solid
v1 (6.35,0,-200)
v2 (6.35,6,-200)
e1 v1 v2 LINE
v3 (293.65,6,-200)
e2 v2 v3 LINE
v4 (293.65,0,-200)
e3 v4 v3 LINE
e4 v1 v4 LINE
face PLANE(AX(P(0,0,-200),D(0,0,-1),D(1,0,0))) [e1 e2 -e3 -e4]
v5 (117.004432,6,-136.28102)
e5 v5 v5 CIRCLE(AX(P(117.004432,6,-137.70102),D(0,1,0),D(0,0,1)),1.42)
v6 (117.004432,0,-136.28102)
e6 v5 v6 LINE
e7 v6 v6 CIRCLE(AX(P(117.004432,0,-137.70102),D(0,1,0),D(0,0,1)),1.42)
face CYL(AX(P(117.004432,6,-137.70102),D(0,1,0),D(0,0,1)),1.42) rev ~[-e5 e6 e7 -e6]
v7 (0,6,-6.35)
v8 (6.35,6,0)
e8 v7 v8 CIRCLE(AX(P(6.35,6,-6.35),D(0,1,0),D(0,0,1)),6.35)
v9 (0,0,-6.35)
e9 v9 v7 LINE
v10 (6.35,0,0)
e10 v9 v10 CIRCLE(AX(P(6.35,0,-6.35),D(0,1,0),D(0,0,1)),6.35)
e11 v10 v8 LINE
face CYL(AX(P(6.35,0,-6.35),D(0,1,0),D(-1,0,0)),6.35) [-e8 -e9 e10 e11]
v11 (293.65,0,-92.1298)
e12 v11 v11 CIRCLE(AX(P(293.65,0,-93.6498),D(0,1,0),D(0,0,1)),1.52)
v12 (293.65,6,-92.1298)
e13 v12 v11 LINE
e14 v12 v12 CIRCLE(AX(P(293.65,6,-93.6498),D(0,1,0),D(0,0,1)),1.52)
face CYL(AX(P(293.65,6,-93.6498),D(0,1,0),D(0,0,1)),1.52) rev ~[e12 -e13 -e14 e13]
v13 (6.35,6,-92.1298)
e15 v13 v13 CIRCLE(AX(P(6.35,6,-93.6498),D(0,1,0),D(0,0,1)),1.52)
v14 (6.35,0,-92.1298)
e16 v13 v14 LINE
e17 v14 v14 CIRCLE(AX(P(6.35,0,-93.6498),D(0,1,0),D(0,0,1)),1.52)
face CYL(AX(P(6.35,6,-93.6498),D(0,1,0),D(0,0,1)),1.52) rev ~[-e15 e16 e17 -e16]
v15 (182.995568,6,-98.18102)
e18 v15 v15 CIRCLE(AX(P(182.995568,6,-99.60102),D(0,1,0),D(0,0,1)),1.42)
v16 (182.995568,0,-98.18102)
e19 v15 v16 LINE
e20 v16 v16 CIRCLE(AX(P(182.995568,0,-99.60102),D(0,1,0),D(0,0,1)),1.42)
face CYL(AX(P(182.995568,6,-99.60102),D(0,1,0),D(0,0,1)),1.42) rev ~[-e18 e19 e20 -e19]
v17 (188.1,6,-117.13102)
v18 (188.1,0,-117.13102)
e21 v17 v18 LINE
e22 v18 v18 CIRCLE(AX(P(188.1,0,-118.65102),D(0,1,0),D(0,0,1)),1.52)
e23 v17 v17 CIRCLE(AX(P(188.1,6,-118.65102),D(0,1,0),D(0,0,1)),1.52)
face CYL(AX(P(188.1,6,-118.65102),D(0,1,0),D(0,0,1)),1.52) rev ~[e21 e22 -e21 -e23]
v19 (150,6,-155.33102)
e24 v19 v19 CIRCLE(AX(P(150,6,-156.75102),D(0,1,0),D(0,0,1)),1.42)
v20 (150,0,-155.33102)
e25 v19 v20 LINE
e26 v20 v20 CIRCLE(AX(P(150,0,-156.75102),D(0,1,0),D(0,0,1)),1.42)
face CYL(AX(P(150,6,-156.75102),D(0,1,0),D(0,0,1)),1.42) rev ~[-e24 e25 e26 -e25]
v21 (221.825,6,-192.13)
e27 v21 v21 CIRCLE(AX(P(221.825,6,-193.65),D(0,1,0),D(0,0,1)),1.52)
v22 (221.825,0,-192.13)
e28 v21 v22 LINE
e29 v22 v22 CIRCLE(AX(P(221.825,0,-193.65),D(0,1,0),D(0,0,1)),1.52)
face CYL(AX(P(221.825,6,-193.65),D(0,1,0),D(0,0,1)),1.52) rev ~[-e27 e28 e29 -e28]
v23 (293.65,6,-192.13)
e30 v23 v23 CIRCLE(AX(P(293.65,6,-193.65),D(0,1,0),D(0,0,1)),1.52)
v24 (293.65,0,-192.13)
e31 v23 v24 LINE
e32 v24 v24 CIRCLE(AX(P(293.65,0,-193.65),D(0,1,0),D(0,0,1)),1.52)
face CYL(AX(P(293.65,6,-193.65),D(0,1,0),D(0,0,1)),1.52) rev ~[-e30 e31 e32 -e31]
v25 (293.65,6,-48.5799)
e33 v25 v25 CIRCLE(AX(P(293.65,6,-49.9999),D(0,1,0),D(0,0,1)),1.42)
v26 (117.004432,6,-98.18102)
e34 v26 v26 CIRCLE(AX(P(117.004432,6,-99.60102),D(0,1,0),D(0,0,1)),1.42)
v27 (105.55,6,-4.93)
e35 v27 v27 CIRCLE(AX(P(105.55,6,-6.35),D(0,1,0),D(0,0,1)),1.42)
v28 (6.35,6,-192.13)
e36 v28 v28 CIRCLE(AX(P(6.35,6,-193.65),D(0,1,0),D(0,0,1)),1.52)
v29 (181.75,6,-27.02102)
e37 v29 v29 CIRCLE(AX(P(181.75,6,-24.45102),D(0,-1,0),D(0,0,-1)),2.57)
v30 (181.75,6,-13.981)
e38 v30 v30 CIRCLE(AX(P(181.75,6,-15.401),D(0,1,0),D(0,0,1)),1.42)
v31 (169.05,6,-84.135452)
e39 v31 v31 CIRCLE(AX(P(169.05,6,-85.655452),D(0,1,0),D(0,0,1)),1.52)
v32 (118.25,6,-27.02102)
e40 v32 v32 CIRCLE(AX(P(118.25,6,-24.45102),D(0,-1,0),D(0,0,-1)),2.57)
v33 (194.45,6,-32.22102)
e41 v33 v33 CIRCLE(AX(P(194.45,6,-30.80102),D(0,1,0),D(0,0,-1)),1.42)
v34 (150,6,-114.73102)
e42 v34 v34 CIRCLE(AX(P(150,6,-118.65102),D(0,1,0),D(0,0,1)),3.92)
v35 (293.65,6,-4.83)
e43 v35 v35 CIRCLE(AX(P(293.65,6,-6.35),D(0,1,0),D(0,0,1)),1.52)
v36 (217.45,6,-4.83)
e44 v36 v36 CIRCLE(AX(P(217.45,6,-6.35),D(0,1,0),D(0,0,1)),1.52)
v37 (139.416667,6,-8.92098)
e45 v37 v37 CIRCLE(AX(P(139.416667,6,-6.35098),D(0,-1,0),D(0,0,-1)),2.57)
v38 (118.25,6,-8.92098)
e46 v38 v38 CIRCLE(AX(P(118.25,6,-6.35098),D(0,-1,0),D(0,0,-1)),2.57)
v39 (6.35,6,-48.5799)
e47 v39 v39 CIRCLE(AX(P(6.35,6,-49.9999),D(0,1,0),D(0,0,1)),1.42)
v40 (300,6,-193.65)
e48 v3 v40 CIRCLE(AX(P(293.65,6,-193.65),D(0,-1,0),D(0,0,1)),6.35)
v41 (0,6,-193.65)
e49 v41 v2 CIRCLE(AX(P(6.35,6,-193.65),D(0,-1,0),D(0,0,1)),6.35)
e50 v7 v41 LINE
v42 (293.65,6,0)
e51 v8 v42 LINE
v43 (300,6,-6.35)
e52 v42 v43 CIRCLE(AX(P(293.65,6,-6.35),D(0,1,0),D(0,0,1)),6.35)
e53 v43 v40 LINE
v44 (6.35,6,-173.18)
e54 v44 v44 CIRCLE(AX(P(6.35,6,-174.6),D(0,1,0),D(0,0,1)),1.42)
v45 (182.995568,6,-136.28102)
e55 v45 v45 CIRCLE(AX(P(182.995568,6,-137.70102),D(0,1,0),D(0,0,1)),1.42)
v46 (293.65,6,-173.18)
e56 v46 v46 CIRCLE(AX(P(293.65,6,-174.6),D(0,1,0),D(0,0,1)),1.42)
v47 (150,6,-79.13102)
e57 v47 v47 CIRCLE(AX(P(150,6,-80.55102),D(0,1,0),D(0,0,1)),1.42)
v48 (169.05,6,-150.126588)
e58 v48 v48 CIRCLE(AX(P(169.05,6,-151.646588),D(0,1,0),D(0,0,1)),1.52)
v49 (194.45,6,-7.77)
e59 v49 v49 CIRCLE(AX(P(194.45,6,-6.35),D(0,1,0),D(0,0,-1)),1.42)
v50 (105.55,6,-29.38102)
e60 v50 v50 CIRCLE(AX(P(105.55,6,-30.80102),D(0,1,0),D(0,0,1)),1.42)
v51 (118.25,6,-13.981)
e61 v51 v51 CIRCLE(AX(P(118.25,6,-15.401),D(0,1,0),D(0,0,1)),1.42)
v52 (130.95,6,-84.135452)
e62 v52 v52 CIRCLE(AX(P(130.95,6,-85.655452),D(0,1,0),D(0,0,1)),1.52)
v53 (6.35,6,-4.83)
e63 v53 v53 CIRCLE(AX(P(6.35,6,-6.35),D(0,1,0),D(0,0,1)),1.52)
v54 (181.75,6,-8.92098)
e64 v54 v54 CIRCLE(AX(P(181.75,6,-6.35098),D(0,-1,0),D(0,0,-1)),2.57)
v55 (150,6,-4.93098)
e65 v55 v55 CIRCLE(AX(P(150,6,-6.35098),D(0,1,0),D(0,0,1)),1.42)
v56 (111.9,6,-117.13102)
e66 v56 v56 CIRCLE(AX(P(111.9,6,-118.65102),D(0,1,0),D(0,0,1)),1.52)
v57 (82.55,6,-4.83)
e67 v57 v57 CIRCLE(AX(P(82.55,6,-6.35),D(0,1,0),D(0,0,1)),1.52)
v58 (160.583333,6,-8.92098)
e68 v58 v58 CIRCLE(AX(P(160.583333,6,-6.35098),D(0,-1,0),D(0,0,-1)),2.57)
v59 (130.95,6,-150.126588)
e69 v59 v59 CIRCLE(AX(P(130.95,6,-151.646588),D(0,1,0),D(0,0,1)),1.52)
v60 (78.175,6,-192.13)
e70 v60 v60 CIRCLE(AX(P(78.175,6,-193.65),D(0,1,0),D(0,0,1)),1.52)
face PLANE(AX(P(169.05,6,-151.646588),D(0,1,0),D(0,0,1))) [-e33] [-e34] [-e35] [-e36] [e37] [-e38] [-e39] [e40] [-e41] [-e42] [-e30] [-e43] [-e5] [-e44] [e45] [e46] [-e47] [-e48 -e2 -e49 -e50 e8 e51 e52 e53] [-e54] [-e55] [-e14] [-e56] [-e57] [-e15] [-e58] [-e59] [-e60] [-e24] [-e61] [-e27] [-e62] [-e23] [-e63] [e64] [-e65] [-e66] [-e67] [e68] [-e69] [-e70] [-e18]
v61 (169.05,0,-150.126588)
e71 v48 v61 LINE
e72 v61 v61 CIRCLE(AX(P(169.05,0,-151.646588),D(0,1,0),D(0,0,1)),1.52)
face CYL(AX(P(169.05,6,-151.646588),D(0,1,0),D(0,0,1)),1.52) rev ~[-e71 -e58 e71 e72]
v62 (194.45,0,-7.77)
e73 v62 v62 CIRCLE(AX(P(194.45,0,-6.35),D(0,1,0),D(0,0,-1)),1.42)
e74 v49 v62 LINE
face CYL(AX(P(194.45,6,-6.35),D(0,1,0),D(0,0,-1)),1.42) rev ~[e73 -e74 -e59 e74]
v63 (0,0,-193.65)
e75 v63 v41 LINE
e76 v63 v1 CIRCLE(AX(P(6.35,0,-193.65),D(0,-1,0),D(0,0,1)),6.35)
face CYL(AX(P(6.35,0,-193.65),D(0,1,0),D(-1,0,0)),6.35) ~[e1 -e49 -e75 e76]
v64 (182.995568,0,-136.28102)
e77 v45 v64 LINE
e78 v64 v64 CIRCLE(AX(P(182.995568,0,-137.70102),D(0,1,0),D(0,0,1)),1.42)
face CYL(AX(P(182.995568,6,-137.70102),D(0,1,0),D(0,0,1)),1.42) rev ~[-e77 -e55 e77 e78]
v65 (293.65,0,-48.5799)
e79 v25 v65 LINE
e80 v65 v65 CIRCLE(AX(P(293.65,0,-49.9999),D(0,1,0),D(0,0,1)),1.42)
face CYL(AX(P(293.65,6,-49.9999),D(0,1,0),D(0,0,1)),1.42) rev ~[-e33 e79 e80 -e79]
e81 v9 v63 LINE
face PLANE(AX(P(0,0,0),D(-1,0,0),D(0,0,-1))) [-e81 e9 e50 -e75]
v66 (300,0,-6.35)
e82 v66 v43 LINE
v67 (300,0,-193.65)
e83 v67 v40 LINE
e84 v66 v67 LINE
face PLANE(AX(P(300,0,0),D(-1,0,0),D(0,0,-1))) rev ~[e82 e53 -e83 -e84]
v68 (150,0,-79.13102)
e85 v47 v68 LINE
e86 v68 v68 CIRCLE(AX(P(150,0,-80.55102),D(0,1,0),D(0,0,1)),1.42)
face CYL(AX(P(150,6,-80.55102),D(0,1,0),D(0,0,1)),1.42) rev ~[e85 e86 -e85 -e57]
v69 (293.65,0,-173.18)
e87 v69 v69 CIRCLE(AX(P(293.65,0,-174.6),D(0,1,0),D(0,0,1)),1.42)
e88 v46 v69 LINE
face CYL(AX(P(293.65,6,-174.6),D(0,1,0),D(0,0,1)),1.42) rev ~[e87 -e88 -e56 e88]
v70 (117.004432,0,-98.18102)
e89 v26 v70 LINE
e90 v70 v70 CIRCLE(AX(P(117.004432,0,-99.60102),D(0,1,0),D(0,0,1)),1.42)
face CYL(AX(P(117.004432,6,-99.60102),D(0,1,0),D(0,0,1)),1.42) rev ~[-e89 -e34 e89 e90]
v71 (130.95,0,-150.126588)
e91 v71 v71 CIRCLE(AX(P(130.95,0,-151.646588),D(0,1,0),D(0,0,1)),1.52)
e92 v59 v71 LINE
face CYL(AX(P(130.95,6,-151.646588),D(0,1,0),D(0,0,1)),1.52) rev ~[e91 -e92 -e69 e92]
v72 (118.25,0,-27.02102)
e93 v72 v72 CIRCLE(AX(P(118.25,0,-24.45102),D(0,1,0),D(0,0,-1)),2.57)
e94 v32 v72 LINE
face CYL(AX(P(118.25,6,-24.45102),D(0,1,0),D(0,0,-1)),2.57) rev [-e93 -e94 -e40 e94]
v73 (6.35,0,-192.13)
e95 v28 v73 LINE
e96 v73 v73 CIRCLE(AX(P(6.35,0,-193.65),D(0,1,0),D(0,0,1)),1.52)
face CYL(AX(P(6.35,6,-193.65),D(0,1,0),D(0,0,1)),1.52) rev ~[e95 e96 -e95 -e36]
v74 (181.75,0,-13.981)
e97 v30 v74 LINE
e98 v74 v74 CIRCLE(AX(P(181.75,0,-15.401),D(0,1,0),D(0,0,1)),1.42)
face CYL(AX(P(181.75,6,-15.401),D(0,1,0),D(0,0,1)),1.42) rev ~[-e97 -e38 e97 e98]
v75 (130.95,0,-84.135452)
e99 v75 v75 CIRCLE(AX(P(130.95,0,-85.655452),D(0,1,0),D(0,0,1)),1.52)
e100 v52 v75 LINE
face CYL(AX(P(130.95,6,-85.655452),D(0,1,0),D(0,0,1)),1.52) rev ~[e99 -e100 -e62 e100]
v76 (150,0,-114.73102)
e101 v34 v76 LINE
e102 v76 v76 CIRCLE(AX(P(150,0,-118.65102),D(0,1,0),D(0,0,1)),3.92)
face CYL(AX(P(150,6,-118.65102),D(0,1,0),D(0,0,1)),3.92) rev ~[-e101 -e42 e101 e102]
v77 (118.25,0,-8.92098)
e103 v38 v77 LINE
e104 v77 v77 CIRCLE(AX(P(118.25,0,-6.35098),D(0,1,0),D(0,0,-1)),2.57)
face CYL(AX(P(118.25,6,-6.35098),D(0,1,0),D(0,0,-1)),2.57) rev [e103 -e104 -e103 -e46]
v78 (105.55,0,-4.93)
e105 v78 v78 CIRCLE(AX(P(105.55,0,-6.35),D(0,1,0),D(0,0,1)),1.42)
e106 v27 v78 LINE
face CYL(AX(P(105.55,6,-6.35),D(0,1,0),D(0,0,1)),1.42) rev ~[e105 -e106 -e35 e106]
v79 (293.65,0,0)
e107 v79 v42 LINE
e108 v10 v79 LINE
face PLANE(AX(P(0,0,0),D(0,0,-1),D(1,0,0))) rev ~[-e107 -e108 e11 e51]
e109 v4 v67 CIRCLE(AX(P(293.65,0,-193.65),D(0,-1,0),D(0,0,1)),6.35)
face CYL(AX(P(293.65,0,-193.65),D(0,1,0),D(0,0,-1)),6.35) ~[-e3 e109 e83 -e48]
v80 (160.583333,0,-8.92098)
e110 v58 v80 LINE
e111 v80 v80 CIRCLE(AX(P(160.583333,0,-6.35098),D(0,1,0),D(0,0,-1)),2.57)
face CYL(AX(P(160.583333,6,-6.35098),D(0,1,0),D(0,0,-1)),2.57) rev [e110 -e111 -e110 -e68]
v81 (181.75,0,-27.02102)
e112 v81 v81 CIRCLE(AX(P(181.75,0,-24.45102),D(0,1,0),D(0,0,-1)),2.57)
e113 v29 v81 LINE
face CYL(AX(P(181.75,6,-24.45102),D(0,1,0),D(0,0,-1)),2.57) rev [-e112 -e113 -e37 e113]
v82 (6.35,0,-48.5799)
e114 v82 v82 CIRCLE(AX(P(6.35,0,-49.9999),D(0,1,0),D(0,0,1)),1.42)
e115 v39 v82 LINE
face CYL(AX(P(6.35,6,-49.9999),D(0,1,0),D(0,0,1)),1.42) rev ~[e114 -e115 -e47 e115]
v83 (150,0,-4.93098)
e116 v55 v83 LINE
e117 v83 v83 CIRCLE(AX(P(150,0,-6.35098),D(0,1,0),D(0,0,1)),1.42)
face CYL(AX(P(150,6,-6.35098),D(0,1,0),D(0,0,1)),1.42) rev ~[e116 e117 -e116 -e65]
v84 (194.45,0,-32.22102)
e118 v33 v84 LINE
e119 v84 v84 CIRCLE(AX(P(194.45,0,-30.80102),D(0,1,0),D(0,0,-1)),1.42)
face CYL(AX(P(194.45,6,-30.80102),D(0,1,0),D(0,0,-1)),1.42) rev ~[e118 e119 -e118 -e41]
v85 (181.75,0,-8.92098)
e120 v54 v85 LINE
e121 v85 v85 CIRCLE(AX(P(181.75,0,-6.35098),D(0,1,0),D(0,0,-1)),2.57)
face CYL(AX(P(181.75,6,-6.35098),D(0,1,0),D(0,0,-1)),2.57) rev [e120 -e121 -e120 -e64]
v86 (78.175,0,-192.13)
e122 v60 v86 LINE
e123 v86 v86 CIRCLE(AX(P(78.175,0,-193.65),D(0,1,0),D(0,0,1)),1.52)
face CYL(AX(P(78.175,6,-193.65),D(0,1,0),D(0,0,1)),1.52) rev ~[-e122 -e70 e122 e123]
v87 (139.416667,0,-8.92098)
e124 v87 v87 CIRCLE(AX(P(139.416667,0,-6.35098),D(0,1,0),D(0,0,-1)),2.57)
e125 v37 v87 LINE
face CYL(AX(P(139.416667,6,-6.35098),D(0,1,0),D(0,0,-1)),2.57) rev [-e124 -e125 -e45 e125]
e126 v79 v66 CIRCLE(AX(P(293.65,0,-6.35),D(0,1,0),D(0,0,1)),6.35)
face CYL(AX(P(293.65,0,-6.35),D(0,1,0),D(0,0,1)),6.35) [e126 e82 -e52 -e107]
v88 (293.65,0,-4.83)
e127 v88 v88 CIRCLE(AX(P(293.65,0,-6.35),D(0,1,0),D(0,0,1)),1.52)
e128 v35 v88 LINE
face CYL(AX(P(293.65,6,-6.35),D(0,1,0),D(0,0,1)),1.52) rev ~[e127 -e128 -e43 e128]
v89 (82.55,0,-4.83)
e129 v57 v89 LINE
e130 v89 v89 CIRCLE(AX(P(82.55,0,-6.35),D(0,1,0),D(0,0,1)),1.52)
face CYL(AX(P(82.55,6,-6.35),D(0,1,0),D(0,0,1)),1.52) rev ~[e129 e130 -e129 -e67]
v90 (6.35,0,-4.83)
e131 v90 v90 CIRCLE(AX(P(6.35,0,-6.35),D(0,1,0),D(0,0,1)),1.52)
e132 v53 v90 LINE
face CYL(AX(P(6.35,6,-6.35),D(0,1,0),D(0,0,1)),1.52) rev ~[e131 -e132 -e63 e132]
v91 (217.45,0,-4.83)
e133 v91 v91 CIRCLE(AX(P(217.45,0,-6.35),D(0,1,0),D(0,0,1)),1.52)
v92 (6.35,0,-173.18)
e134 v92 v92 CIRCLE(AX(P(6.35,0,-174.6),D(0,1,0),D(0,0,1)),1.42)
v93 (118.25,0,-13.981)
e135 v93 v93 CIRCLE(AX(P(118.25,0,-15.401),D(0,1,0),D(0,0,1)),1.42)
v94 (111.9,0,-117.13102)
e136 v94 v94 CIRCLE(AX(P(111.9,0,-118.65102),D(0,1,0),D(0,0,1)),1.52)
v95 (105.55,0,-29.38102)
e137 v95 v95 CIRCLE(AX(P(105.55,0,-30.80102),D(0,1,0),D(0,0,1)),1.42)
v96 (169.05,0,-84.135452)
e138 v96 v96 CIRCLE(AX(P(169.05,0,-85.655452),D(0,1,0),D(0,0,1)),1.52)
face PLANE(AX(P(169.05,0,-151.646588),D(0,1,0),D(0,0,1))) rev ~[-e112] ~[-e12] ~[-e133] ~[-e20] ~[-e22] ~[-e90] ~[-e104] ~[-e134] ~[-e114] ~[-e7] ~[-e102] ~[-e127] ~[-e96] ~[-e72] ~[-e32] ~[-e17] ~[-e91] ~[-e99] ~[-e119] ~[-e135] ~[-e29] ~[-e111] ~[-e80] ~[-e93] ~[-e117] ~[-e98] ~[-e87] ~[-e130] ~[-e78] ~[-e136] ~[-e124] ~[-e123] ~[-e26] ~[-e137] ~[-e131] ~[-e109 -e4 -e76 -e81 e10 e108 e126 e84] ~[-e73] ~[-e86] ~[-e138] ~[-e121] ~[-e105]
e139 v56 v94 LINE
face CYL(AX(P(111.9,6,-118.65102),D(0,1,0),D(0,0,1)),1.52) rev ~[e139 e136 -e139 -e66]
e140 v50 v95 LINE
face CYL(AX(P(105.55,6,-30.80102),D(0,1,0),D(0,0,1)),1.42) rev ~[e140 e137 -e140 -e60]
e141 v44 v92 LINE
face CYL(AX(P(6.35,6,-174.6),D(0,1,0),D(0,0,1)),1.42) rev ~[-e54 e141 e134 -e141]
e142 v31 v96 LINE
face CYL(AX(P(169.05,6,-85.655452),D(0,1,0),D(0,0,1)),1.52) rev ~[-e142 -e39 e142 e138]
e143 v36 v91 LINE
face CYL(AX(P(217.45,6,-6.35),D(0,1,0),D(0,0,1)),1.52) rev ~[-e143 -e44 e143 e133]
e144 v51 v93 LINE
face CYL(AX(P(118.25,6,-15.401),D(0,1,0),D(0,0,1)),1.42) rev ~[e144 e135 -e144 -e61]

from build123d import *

# Parameters (mm, degrees)
SKETCH1_W           = 300
SKETCH1_H           = 200
BOSS_EXTRUDE1_DEPTH = 6
SKETCH6_R           = 4
CUT_EXTRUDE2_DEPTH  = 361.605047108
FILLET1_R           = 6.35
SKETCH2_R           = 1.5
CUT_EXTRUDE1_DEPTH  = 361.605047108
SKETCH13_R          = 1.6
M3_THROUGH2_DEPTH   = 364.853871767
SKETCH16_R          = 2.65
M5_THROUGH_DEPTH    = 358.420816406
SKETCH9_R           = 1.5
CUT_EXTRUDE3_DEPTH  = 361.605047108
SKETCH10_R          = 1.5
CUT_EXTRUDE5_DEPTH  = 361.605047108
SKETCH17_R          = 1.6
M3_THROUGH_DEPTH    = 361.605047108
MOVE_FACE2_BY       = 0.08
MOVE_FACE2_2_BY     = 0.08
MOVE_FACE2_3_BY     = 0.08
MOVE_FACE2_4_BY     = 0.08
MOVE_FACE2_5_BY     = 0.08
MOVE_FACE2_6_BY     = 0.08
MOVE_FACE2_7_BY     = 0.08
MOVE_FACE2_8_BY     = 0.08
MOVE_FACE2_9_BY     = 0.08
MOVE_FACE2_10_BY    = 0.08
MOVE_FACE2_11_BY    = 0.08
MOVE_FACE2_12_BY    = 0.08
MOVE_FACE2_13_BY    = 0.08
MOVE_FACE2_14_BY    = 0.08
MOVE_FACE2_15_BY    = 0.08
MOVE_FACE2_16_BY    = 0.08
MOVE_FACE2_17_BY    = 0.08
MOVE_FACE2_18_BY    = 0.08
MOVE_FACE2_19_BY    = 0.08
MOVE_FACE2_20_BY    = 0.08
MOVE_FACE2_21_BY    = 0.08
MOVE_FACE2_22_BY    = 0.08
MOVE_FACE2_23_BY    = 0.08
MOVE_FACE2_24_BY    = 0.08
MOVE_FACE2_25_BY    = 0.08
MOVE_FACE2_26_BY    = 0.08
MOVE_FACE2_27_BY    = 0.08
MOVE_FACE2_28_BY    = 0.08
MOVE_FACE2_29_BY    = 0.08
MOVE_FACE2_30_BY    = 0.08
MOVE_FACE2_31_BY    = 0.08
MOVE_FACE2_32_BY    = 0.08
MOVE_FACE2_33_BY    = 0.08
MOVE_FACE2_34_BY    = 0.08
MOVE_FACE2_35_BY    = 0.08
MOVE_FACE2_36_BY    = 0.08
MOVE_FACE2_37_BY    = 0.08
MOVE_FACE2_38_BY    = 0.08
MOVE_FACE2_39_BY    = 0.08
MOVE_FACE2_40_BY    = 0.08


with BuildPart() as part:
    # Sketch1 → Boss-Extrude1 (new body)
    with BuildSketch(Plane(origin=(0, 0, 0), x_dir=(1, 0, 0), z_dir=(0, 1, 0))):
        with Locations((150, 100)):
            Rectangle(SKETCH1_W, SKETCH1_H)
    extrude(amount=BOSS_EXTRUDE1_DEPTH)

    # Sketch6 → Cut-Extrude2 (cut, through all)
    with BuildSketch(Plane(origin=(0, 6, 0), x_dir=(1, 0, 0), z_dir=(0, 1, 0))):
        with Locations(Location((150, 118.65102, 0), (0, 0, 270))):
            Circle(SKETCH6_R)
    extrude(amount=-CUT_EXTRUDE2_DEPTH, mode=Mode.SUBTRACT)

    # Fillet1
    fillet1_edges = [part.edges().sort_by_distance(p)[0] for p in [
        (0, 3, -200),
        (300, 3, -200),
        (300, 3, 0),
        (0, 3, 0),
    ]]
    fillet(fillet1_edges, radius=FILLET1_R)

    # Sketch2 → Cut-Extrude1 (cut, through all)
    with BuildSketch(Plane(origin=(0, 6, 0), x_dir=(1, 0, 0), z_dir=(0, 1, 0))):
        with Locations(Location((6.35, 174.6, 0), (0, 0, 270))):
            Circle(SKETCH2_R)
        with Locations(Location((6.35, 49.9999, 0), (0, 0, 270))):
            Circle(SKETCH2_R)
        with Locations(Location((293.65, 49.9999, 0), (0, 0, 270))):
            Circle(SKETCH2_R)
        with Locations(Location((293.65, 174.6, 0), (0, 0, 270))):
            Circle(SKETCH2_R)
    extrude(amount=-CUT_EXTRUDE1_DEPTH, mode=Mode.SUBTRACT)

    # Sketch13 → M3-through2 (cut, through all)
    with BuildSketch(Plane(origin=(0, 6, 5.8), x_dir=(1, 0, 0), z_dir=(0, 1, 0))):
        with Locations(Location((6.35, 199.45, 0), (0, 0, 270))):
            Circle(SKETCH13_R)
        with Locations(Location((78.175, 199.45, 0), (0, 0, 270))):
            Circle(SKETCH13_R)
        with Locations(Location((221.825, 199.45, 0), (0, 0, 270))):
            Circle(SKETCH13_R)
        with Locations(Location((293.65, 199.45, 0), (0, 0, 270))):
            Circle(SKETCH13_R)
        with Locations(Location((293.65, 99.4498, 0), (0, 0, 270))):
            Circle(SKETCH13_R)
        with Locations(Location((293.65, 12.15, 0), (0, 0, 270))):
            Circle(SKETCH13_R)
        with Locations(Location((217.45, 12.15, 0), (0, 0, 270))):
            Circle(SKETCH13_R)
        with Locations(Location((82.55, 12.15, 0), (0, 0, 270))):
            Circle(SKETCH13_R)
        with Locations(Location((6.35, 12.15, 0), (0, 0, 270))):
            Circle(SKETCH13_R)
        with Locations(Location((6.35, 99.4498, 0), (0, 0, 270))):
            Circle(SKETCH13_R)
    extrude(amount=-M3_THROUGH2_DEPTH, mode=Mode.SUBTRACT)

    # Sketch16 → M5_through (cut, through all)
    with BuildSketch(Plane(origin=(0, 6, -5.8), x_dir=(1, 0, 0), z_dir=(0, -1, 0))):
        with Locations(Location((118.25, -18.65102, 0), (0, 0, 270))):
            Circle(SKETCH16_R)
        with Locations(Location((118.25, -0.55098, 0), (0, 0, 270))):
            Circle(SKETCH16_R)
        with Locations(Location((139.416666667, -0.55098, 0), (0, 0, 270))):
            Circle(SKETCH16_R)
        with Locations(Location((160.583333333, -0.55098, 0), (0, 0, 270))):
            Circle(SKETCH16_R)
        with Locations(Location((181.75, -0.55098, 0), (0, 0, 270))):
            Circle(SKETCH16_R)
        with Locations(Location((181.75, -18.65102, 0), (0, 0, 270))):
            Circle(SKETCH16_R)
    extrude(amount=M5_THROUGH_DEPTH, mode=Mode.SUBTRACT)

    # Sketch9 → Cut-Extrude3 (cut, through all)
    with BuildSketch(Plane(origin=(0, 6, 0), x_dir=(-1, 0, 0), z_dir=(0, 1, 0))):
        with Locations(Location((-118.25, -15.401, 0), (0, 0, 90))):
            Circle(SKETCH9_R)
        with Locations(Location((-150, -6.35098, 0), (0, 0, 90))):
            Circle(SKETCH9_R)
        with Locations(Location((-181.75, -15.401, 0), (0, 0, 90))):
            Circle(SKETCH9_R)
    extrude(amount=-CUT_EXTRUDE3_DEPTH, mode=Mode.SUBTRACT)

    # Sketch10 → Cut-Extrude5 (cut, through all)
    with BuildSketch(Plane(origin=(0, 6, 0), x_dir=(1, 0, 0), z_dir=(0, 1, 0))):
        with Locations(Location((150, 156.75102, 0), (0, 0, 270))):
            Circle(SKETCH10_R)
        with Locations(Location((182.995567884, 137.70102, 0), (0, 0, 270))):
            Circle(SKETCH10_R)
        with Locations(Location((182.995567884, 99.60102, 0), (0, 0, 270))):
            Circle(SKETCH10_R)
        with Locations(Location((150, 80.55102, 0), (0, 0, 270))):
            Circle(SKETCH10_R)
        with Locations(Location((117.004432116, 99.60102, 0), (0, 0, 270))):
            Circle(SKETCH10_R)
        with Locations(Location((117.004432116, 137.70102, 0), (0, 0, 270))):
            Circle(SKETCH10_R)
        with Locations(Location((105.55, 30.80102, 0), (0, 0, 270))):
            Circle(SKETCH10_R)
        with Locations(Location((105.55, 6.35, 0), (0, 0, 270))):
            Circle(SKETCH10_R)
        with Locations(Location((194.45, 6.35, 0), (0, 0, 90))):
            Circle(SKETCH10_R)
        with Locations(Location((194.45, 30.80102, 0), (0, 0, 90))):
            Circle(SKETCH10_R)
    extrude(amount=-CUT_EXTRUDE5_DEPTH, mode=Mode.SUBTRACT)

    # Sketch17 → M3-through (cut, through all)
    with BuildSketch(Plane(origin=(0, 6, 0), x_dir=(1, 0, 0), z_dir=(0, 1, 0))):
        with Locations(Location((188.1, 118.65102, 0), (0, 0, 270))):
            Circle(SKETCH17_R)
        with Locations(Location((169.05, 85.655452116, 0), (0, 0, 270))):
            Circle(SKETCH17_R)
        with Locations(Location((130.95, 85.655452116, 0), (0, 0, 270))):
            Circle(SKETCH17_R)
        with Locations(Location((111.9, 118.65102, 0), (0, 0, 270))):
            Circle(SKETCH17_R)
        with Locations(Location((130.95, 151.646587884, 0), (0, 0, 270))):
            Circle(SKETCH17_R)
        with Locations(Location((169.05, 151.646587884, 0), (0, 0, 270))):
            Circle(SKETCH17_R)
    extrude(amount=-M3_THROUGH_DEPTH, mode=Mode.SUBTRACT)

    # Move Face2: a curved face moved outward by 0.08
    add(Solid.thicken(part.faces().sort_by_distance((150, 3, -122.65102))[0], MOVE_FACE2_BY))

    # Move Face2 2: a curved face moved outward by 0.08
    add(Solid.thicken(part.faces().sort_by_distance((6.35, 3, -176.1))[0], MOVE_FACE2_2_BY))

    # Move Face2 3: a curved face moved outward by 0.08
    add(Solid.thicken(part.faces().sort_by_distance((6.35, 3, -51.4999))[0], MOVE_FACE2_3_BY))

    # Move Face2 4: a curved face moved outward by 0.08
    add(Solid.thicken(part.faces().sort_by_distance((293.65, 3, -51.4999))[0], MOVE_FACE2_4_BY))

    # Move Face2 5: a curved face moved outward by 0.08
    add(Solid.thicken(part.faces().sort_by_distance((293.65, 3, -176.1))[0], MOVE_FACE2_5_BY))

    # Move Face2 6: a curved face moved outward by 0.08
    add(Solid.thicken(part.faces().sort_by_distance((6.35, 3, -195.25))[0], MOVE_FACE2_6_BY))

    # Move Face2 7: a curved face moved outward by 0.08
    add(Solid.thicken(part.faces().sort_by_distance((78.175, 3, -195.25))[0], MOVE_FACE2_7_BY))

    # Move Face2 8: a curved face moved outward by 0.08
    add(Solid.thicken(part.faces().sort_by_distance((221.825, 3, -195.25))[0], MOVE_FACE2_8_BY))

    # Move Face2 9: a curved face moved outward by 0.08
    add(Solid.thicken(part.faces().sort_by_distance((293.65, 3, -195.25))[0], MOVE_FACE2_9_BY))

    # Move Face2 10: a curved face moved outward by 0.08
    add(Solid.thicken(part.faces().sort_by_distance((293.65, 3, -95.2498))[0], MOVE_FACE2_10_BY))

    # Move Face2 11: a curved face moved outward by 0.08
    add(Solid.thicken(part.faces().sort_by_distance((293.65, 3, -7.95))[0], MOVE_FACE2_11_BY))

    # Move Face2 12: a curved face moved outward by 0.08
    add(Solid.thicken(part.faces().sort_by_distance((217.45, 3, -7.95))[0], MOVE_FACE2_12_BY))

    # Move Face2 13: a curved face moved outward by 0.08
    add(Solid.thicken(part.faces().sort_by_distance((82.55, 3, -7.95))[0], MOVE_FACE2_13_BY))

    # Move Face2 14: a curved face moved outward by 0.08
    add(Solid.thicken(part.faces().sort_by_distance((6.35, 3, -7.95))[0], MOVE_FACE2_14_BY))

    # Move Face2 15: a curved face moved outward by 0.08
    add(Solid.thicken(part.faces().sort_by_distance((6.35, 3, -95.2498))[0], MOVE_FACE2_15_BY))

    # Move Face2 16: a curved face moved outward by 0.08
    add(Solid.thicken(part.faces().sort_by_distance((118.25, 3, -21.80102))[0], MOVE_FACE2_16_BY))

    # Move Face2 17: a curved face moved outward by 0.08
    add(Solid.thicken(part.faces().sort_by_distance((118.25, 3, -3.70098))[0], MOVE_FACE2_17_BY))

    # Move Face2 18: a curved face moved outward by 0.08
    add(Solid.thicken(part.faces().sort_by_distance((139.416666667, 3, -3.70098))[0], MOVE_FACE2_18_BY))

    # Move Face2 19: a curved face moved outward by 0.08
    add(Solid.thicken(part.faces().sort_by_distance((160.583333333, 3, -3.70098))[0], MOVE_FACE2_19_BY))

    # Move Face2 20: a curved face moved outward by 0.08
    add(Solid.thicken(part.faces().sort_by_distance((181.75, 3, -3.70098))[0], MOVE_FACE2_20_BY))

    # Move Face2 21: a curved face moved outward by 0.08
    add(Solid.thicken(part.faces().sort_by_distance((181.75, 3, -21.80102))[0], MOVE_FACE2_21_BY))

    # Move Face2 22: a curved face moved outward by 0.08
    add(Solid.thicken(part.faces().sort_by_distance((118.25, 3, -16.901))[0], MOVE_FACE2_22_BY))

    # Move Face2 23: a curved face moved outward by 0.08
    add(Solid.thicken(part.faces().sort_by_distance((150, 3, -7.85098))[0], MOVE_FACE2_23_BY))

    # Move Face2 24: a curved face moved outward by 0.08
    add(Solid.thicken(part.faces().sort_by_distance((181.75, 3, -16.901))[0], MOVE_FACE2_24_BY))

    # Move Face2 25: a curved face moved outward by 0.08
    add(Solid.thicken(part.faces().sort_by_distance((150, 3, -158.25102))[0], MOVE_FACE2_25_BY))

    # Move Face2 26: a curved face moved outward by 0.08
    add(Solid.thicken(part.faces().sort_by_distance((182.995567884, 3, -139.20102))[0], MOVE_FACE2_26_BY))

    # Move Face2 27: a curved face moved outward by 0.08
    add(Solid.thicken(part.faces().sort_by_distance((182.995567884, 3, -101.10102))[0], MOVE_FACE2_27_BY))

    # Move Face2 28: a curved face moved outward by 0.08
    add(Solid.thicken(part.faces().sort_by_distance((150, 3, -82.05102))[0], MOVE_FACE2_28_BY))

    # Move Face2 29: a curved face moved outward by 0.08
    add(Solid.thicken(part.faces().sort_by_distance((117.004432116, 3, -101.10102))[0], MOVE_FACE2_29_BY))

    # Move Face2 30: a curved face moved outward by 0.08
    add(Solid.thicken(part.faces().sort_by_distance((117.004432116, 3, -139.20102))[0], MOVE_FACE2_30_BY))

    # Move Face2 31: a curved face moved outward by 0.08
    add(Solid.thicken(part.faces().sort_by_distance((105.55, 3, -32.30102))[0], MOVE_FACE2_31_BY))

    # Move Face2 32: a curved face moved outward by 0.08
    add(Solid.thicken(part.faces().sort_by_distance((105.55, 3, -7.85))[0], MOVE_FACE2_32_BY))

    # Move Face2 33: a curved face moved outward by 0.08
    add(Solid.thicken(part.faces().sort_by_distance((194.45, 3, -4.85))[0], MOVE_FACE2_33_BY))

    # Move Face2 34: a curved face moved outward by 0.08
    add(Solid.thicken(part.faces().sort_by_distance((194.45, 3, -29.30102))[0], MOVE_FACE2_34_BY))

    # Move Face2 35: a curved face moved outward by 0.08
    add(Solid.thicken(part.faces().sort_by_distance((188.1, 3, -120.25102))[0], MOVE_FACE2_35_BY))

    # Move Face2 36: a curved face moved outward by 0.08
    add(Solid.thicken(part.faces().sort_by_distance((169.05, 3, -87.255452116))[0], MOVE_FACE2_36_BY))

    # Move Face2 37: a curved face moved outward by 0.08
    add(Solid.thicken(part.faces().sort_by_distance((130.95, 3, -87.255452116))[0], MOVE_FACE2_37_BY))

    # Move Face2 38: a curved face moved outward by 0.08
    add(Solid.thicken(part.faces().sort_by_distance((111.9, 3, -120.25102))[0], MOVE_FACE2_38_BY))

    # Move Face2 39: a curved face moved outward by 0.08
    add(Solid.thicken(part.faces().sort_by_distance((130.95, 3, -153.246587884))[0], MOVE_FACE2_39_BY))

    # Move Face2 40: a curved face moved outward by 0.08
    add(Solid.thicken(part.faces().sort_by_distance((169.05, 3, -153.246587884))[0], MOVE_FACE2_40_BY))


solid = part.part
